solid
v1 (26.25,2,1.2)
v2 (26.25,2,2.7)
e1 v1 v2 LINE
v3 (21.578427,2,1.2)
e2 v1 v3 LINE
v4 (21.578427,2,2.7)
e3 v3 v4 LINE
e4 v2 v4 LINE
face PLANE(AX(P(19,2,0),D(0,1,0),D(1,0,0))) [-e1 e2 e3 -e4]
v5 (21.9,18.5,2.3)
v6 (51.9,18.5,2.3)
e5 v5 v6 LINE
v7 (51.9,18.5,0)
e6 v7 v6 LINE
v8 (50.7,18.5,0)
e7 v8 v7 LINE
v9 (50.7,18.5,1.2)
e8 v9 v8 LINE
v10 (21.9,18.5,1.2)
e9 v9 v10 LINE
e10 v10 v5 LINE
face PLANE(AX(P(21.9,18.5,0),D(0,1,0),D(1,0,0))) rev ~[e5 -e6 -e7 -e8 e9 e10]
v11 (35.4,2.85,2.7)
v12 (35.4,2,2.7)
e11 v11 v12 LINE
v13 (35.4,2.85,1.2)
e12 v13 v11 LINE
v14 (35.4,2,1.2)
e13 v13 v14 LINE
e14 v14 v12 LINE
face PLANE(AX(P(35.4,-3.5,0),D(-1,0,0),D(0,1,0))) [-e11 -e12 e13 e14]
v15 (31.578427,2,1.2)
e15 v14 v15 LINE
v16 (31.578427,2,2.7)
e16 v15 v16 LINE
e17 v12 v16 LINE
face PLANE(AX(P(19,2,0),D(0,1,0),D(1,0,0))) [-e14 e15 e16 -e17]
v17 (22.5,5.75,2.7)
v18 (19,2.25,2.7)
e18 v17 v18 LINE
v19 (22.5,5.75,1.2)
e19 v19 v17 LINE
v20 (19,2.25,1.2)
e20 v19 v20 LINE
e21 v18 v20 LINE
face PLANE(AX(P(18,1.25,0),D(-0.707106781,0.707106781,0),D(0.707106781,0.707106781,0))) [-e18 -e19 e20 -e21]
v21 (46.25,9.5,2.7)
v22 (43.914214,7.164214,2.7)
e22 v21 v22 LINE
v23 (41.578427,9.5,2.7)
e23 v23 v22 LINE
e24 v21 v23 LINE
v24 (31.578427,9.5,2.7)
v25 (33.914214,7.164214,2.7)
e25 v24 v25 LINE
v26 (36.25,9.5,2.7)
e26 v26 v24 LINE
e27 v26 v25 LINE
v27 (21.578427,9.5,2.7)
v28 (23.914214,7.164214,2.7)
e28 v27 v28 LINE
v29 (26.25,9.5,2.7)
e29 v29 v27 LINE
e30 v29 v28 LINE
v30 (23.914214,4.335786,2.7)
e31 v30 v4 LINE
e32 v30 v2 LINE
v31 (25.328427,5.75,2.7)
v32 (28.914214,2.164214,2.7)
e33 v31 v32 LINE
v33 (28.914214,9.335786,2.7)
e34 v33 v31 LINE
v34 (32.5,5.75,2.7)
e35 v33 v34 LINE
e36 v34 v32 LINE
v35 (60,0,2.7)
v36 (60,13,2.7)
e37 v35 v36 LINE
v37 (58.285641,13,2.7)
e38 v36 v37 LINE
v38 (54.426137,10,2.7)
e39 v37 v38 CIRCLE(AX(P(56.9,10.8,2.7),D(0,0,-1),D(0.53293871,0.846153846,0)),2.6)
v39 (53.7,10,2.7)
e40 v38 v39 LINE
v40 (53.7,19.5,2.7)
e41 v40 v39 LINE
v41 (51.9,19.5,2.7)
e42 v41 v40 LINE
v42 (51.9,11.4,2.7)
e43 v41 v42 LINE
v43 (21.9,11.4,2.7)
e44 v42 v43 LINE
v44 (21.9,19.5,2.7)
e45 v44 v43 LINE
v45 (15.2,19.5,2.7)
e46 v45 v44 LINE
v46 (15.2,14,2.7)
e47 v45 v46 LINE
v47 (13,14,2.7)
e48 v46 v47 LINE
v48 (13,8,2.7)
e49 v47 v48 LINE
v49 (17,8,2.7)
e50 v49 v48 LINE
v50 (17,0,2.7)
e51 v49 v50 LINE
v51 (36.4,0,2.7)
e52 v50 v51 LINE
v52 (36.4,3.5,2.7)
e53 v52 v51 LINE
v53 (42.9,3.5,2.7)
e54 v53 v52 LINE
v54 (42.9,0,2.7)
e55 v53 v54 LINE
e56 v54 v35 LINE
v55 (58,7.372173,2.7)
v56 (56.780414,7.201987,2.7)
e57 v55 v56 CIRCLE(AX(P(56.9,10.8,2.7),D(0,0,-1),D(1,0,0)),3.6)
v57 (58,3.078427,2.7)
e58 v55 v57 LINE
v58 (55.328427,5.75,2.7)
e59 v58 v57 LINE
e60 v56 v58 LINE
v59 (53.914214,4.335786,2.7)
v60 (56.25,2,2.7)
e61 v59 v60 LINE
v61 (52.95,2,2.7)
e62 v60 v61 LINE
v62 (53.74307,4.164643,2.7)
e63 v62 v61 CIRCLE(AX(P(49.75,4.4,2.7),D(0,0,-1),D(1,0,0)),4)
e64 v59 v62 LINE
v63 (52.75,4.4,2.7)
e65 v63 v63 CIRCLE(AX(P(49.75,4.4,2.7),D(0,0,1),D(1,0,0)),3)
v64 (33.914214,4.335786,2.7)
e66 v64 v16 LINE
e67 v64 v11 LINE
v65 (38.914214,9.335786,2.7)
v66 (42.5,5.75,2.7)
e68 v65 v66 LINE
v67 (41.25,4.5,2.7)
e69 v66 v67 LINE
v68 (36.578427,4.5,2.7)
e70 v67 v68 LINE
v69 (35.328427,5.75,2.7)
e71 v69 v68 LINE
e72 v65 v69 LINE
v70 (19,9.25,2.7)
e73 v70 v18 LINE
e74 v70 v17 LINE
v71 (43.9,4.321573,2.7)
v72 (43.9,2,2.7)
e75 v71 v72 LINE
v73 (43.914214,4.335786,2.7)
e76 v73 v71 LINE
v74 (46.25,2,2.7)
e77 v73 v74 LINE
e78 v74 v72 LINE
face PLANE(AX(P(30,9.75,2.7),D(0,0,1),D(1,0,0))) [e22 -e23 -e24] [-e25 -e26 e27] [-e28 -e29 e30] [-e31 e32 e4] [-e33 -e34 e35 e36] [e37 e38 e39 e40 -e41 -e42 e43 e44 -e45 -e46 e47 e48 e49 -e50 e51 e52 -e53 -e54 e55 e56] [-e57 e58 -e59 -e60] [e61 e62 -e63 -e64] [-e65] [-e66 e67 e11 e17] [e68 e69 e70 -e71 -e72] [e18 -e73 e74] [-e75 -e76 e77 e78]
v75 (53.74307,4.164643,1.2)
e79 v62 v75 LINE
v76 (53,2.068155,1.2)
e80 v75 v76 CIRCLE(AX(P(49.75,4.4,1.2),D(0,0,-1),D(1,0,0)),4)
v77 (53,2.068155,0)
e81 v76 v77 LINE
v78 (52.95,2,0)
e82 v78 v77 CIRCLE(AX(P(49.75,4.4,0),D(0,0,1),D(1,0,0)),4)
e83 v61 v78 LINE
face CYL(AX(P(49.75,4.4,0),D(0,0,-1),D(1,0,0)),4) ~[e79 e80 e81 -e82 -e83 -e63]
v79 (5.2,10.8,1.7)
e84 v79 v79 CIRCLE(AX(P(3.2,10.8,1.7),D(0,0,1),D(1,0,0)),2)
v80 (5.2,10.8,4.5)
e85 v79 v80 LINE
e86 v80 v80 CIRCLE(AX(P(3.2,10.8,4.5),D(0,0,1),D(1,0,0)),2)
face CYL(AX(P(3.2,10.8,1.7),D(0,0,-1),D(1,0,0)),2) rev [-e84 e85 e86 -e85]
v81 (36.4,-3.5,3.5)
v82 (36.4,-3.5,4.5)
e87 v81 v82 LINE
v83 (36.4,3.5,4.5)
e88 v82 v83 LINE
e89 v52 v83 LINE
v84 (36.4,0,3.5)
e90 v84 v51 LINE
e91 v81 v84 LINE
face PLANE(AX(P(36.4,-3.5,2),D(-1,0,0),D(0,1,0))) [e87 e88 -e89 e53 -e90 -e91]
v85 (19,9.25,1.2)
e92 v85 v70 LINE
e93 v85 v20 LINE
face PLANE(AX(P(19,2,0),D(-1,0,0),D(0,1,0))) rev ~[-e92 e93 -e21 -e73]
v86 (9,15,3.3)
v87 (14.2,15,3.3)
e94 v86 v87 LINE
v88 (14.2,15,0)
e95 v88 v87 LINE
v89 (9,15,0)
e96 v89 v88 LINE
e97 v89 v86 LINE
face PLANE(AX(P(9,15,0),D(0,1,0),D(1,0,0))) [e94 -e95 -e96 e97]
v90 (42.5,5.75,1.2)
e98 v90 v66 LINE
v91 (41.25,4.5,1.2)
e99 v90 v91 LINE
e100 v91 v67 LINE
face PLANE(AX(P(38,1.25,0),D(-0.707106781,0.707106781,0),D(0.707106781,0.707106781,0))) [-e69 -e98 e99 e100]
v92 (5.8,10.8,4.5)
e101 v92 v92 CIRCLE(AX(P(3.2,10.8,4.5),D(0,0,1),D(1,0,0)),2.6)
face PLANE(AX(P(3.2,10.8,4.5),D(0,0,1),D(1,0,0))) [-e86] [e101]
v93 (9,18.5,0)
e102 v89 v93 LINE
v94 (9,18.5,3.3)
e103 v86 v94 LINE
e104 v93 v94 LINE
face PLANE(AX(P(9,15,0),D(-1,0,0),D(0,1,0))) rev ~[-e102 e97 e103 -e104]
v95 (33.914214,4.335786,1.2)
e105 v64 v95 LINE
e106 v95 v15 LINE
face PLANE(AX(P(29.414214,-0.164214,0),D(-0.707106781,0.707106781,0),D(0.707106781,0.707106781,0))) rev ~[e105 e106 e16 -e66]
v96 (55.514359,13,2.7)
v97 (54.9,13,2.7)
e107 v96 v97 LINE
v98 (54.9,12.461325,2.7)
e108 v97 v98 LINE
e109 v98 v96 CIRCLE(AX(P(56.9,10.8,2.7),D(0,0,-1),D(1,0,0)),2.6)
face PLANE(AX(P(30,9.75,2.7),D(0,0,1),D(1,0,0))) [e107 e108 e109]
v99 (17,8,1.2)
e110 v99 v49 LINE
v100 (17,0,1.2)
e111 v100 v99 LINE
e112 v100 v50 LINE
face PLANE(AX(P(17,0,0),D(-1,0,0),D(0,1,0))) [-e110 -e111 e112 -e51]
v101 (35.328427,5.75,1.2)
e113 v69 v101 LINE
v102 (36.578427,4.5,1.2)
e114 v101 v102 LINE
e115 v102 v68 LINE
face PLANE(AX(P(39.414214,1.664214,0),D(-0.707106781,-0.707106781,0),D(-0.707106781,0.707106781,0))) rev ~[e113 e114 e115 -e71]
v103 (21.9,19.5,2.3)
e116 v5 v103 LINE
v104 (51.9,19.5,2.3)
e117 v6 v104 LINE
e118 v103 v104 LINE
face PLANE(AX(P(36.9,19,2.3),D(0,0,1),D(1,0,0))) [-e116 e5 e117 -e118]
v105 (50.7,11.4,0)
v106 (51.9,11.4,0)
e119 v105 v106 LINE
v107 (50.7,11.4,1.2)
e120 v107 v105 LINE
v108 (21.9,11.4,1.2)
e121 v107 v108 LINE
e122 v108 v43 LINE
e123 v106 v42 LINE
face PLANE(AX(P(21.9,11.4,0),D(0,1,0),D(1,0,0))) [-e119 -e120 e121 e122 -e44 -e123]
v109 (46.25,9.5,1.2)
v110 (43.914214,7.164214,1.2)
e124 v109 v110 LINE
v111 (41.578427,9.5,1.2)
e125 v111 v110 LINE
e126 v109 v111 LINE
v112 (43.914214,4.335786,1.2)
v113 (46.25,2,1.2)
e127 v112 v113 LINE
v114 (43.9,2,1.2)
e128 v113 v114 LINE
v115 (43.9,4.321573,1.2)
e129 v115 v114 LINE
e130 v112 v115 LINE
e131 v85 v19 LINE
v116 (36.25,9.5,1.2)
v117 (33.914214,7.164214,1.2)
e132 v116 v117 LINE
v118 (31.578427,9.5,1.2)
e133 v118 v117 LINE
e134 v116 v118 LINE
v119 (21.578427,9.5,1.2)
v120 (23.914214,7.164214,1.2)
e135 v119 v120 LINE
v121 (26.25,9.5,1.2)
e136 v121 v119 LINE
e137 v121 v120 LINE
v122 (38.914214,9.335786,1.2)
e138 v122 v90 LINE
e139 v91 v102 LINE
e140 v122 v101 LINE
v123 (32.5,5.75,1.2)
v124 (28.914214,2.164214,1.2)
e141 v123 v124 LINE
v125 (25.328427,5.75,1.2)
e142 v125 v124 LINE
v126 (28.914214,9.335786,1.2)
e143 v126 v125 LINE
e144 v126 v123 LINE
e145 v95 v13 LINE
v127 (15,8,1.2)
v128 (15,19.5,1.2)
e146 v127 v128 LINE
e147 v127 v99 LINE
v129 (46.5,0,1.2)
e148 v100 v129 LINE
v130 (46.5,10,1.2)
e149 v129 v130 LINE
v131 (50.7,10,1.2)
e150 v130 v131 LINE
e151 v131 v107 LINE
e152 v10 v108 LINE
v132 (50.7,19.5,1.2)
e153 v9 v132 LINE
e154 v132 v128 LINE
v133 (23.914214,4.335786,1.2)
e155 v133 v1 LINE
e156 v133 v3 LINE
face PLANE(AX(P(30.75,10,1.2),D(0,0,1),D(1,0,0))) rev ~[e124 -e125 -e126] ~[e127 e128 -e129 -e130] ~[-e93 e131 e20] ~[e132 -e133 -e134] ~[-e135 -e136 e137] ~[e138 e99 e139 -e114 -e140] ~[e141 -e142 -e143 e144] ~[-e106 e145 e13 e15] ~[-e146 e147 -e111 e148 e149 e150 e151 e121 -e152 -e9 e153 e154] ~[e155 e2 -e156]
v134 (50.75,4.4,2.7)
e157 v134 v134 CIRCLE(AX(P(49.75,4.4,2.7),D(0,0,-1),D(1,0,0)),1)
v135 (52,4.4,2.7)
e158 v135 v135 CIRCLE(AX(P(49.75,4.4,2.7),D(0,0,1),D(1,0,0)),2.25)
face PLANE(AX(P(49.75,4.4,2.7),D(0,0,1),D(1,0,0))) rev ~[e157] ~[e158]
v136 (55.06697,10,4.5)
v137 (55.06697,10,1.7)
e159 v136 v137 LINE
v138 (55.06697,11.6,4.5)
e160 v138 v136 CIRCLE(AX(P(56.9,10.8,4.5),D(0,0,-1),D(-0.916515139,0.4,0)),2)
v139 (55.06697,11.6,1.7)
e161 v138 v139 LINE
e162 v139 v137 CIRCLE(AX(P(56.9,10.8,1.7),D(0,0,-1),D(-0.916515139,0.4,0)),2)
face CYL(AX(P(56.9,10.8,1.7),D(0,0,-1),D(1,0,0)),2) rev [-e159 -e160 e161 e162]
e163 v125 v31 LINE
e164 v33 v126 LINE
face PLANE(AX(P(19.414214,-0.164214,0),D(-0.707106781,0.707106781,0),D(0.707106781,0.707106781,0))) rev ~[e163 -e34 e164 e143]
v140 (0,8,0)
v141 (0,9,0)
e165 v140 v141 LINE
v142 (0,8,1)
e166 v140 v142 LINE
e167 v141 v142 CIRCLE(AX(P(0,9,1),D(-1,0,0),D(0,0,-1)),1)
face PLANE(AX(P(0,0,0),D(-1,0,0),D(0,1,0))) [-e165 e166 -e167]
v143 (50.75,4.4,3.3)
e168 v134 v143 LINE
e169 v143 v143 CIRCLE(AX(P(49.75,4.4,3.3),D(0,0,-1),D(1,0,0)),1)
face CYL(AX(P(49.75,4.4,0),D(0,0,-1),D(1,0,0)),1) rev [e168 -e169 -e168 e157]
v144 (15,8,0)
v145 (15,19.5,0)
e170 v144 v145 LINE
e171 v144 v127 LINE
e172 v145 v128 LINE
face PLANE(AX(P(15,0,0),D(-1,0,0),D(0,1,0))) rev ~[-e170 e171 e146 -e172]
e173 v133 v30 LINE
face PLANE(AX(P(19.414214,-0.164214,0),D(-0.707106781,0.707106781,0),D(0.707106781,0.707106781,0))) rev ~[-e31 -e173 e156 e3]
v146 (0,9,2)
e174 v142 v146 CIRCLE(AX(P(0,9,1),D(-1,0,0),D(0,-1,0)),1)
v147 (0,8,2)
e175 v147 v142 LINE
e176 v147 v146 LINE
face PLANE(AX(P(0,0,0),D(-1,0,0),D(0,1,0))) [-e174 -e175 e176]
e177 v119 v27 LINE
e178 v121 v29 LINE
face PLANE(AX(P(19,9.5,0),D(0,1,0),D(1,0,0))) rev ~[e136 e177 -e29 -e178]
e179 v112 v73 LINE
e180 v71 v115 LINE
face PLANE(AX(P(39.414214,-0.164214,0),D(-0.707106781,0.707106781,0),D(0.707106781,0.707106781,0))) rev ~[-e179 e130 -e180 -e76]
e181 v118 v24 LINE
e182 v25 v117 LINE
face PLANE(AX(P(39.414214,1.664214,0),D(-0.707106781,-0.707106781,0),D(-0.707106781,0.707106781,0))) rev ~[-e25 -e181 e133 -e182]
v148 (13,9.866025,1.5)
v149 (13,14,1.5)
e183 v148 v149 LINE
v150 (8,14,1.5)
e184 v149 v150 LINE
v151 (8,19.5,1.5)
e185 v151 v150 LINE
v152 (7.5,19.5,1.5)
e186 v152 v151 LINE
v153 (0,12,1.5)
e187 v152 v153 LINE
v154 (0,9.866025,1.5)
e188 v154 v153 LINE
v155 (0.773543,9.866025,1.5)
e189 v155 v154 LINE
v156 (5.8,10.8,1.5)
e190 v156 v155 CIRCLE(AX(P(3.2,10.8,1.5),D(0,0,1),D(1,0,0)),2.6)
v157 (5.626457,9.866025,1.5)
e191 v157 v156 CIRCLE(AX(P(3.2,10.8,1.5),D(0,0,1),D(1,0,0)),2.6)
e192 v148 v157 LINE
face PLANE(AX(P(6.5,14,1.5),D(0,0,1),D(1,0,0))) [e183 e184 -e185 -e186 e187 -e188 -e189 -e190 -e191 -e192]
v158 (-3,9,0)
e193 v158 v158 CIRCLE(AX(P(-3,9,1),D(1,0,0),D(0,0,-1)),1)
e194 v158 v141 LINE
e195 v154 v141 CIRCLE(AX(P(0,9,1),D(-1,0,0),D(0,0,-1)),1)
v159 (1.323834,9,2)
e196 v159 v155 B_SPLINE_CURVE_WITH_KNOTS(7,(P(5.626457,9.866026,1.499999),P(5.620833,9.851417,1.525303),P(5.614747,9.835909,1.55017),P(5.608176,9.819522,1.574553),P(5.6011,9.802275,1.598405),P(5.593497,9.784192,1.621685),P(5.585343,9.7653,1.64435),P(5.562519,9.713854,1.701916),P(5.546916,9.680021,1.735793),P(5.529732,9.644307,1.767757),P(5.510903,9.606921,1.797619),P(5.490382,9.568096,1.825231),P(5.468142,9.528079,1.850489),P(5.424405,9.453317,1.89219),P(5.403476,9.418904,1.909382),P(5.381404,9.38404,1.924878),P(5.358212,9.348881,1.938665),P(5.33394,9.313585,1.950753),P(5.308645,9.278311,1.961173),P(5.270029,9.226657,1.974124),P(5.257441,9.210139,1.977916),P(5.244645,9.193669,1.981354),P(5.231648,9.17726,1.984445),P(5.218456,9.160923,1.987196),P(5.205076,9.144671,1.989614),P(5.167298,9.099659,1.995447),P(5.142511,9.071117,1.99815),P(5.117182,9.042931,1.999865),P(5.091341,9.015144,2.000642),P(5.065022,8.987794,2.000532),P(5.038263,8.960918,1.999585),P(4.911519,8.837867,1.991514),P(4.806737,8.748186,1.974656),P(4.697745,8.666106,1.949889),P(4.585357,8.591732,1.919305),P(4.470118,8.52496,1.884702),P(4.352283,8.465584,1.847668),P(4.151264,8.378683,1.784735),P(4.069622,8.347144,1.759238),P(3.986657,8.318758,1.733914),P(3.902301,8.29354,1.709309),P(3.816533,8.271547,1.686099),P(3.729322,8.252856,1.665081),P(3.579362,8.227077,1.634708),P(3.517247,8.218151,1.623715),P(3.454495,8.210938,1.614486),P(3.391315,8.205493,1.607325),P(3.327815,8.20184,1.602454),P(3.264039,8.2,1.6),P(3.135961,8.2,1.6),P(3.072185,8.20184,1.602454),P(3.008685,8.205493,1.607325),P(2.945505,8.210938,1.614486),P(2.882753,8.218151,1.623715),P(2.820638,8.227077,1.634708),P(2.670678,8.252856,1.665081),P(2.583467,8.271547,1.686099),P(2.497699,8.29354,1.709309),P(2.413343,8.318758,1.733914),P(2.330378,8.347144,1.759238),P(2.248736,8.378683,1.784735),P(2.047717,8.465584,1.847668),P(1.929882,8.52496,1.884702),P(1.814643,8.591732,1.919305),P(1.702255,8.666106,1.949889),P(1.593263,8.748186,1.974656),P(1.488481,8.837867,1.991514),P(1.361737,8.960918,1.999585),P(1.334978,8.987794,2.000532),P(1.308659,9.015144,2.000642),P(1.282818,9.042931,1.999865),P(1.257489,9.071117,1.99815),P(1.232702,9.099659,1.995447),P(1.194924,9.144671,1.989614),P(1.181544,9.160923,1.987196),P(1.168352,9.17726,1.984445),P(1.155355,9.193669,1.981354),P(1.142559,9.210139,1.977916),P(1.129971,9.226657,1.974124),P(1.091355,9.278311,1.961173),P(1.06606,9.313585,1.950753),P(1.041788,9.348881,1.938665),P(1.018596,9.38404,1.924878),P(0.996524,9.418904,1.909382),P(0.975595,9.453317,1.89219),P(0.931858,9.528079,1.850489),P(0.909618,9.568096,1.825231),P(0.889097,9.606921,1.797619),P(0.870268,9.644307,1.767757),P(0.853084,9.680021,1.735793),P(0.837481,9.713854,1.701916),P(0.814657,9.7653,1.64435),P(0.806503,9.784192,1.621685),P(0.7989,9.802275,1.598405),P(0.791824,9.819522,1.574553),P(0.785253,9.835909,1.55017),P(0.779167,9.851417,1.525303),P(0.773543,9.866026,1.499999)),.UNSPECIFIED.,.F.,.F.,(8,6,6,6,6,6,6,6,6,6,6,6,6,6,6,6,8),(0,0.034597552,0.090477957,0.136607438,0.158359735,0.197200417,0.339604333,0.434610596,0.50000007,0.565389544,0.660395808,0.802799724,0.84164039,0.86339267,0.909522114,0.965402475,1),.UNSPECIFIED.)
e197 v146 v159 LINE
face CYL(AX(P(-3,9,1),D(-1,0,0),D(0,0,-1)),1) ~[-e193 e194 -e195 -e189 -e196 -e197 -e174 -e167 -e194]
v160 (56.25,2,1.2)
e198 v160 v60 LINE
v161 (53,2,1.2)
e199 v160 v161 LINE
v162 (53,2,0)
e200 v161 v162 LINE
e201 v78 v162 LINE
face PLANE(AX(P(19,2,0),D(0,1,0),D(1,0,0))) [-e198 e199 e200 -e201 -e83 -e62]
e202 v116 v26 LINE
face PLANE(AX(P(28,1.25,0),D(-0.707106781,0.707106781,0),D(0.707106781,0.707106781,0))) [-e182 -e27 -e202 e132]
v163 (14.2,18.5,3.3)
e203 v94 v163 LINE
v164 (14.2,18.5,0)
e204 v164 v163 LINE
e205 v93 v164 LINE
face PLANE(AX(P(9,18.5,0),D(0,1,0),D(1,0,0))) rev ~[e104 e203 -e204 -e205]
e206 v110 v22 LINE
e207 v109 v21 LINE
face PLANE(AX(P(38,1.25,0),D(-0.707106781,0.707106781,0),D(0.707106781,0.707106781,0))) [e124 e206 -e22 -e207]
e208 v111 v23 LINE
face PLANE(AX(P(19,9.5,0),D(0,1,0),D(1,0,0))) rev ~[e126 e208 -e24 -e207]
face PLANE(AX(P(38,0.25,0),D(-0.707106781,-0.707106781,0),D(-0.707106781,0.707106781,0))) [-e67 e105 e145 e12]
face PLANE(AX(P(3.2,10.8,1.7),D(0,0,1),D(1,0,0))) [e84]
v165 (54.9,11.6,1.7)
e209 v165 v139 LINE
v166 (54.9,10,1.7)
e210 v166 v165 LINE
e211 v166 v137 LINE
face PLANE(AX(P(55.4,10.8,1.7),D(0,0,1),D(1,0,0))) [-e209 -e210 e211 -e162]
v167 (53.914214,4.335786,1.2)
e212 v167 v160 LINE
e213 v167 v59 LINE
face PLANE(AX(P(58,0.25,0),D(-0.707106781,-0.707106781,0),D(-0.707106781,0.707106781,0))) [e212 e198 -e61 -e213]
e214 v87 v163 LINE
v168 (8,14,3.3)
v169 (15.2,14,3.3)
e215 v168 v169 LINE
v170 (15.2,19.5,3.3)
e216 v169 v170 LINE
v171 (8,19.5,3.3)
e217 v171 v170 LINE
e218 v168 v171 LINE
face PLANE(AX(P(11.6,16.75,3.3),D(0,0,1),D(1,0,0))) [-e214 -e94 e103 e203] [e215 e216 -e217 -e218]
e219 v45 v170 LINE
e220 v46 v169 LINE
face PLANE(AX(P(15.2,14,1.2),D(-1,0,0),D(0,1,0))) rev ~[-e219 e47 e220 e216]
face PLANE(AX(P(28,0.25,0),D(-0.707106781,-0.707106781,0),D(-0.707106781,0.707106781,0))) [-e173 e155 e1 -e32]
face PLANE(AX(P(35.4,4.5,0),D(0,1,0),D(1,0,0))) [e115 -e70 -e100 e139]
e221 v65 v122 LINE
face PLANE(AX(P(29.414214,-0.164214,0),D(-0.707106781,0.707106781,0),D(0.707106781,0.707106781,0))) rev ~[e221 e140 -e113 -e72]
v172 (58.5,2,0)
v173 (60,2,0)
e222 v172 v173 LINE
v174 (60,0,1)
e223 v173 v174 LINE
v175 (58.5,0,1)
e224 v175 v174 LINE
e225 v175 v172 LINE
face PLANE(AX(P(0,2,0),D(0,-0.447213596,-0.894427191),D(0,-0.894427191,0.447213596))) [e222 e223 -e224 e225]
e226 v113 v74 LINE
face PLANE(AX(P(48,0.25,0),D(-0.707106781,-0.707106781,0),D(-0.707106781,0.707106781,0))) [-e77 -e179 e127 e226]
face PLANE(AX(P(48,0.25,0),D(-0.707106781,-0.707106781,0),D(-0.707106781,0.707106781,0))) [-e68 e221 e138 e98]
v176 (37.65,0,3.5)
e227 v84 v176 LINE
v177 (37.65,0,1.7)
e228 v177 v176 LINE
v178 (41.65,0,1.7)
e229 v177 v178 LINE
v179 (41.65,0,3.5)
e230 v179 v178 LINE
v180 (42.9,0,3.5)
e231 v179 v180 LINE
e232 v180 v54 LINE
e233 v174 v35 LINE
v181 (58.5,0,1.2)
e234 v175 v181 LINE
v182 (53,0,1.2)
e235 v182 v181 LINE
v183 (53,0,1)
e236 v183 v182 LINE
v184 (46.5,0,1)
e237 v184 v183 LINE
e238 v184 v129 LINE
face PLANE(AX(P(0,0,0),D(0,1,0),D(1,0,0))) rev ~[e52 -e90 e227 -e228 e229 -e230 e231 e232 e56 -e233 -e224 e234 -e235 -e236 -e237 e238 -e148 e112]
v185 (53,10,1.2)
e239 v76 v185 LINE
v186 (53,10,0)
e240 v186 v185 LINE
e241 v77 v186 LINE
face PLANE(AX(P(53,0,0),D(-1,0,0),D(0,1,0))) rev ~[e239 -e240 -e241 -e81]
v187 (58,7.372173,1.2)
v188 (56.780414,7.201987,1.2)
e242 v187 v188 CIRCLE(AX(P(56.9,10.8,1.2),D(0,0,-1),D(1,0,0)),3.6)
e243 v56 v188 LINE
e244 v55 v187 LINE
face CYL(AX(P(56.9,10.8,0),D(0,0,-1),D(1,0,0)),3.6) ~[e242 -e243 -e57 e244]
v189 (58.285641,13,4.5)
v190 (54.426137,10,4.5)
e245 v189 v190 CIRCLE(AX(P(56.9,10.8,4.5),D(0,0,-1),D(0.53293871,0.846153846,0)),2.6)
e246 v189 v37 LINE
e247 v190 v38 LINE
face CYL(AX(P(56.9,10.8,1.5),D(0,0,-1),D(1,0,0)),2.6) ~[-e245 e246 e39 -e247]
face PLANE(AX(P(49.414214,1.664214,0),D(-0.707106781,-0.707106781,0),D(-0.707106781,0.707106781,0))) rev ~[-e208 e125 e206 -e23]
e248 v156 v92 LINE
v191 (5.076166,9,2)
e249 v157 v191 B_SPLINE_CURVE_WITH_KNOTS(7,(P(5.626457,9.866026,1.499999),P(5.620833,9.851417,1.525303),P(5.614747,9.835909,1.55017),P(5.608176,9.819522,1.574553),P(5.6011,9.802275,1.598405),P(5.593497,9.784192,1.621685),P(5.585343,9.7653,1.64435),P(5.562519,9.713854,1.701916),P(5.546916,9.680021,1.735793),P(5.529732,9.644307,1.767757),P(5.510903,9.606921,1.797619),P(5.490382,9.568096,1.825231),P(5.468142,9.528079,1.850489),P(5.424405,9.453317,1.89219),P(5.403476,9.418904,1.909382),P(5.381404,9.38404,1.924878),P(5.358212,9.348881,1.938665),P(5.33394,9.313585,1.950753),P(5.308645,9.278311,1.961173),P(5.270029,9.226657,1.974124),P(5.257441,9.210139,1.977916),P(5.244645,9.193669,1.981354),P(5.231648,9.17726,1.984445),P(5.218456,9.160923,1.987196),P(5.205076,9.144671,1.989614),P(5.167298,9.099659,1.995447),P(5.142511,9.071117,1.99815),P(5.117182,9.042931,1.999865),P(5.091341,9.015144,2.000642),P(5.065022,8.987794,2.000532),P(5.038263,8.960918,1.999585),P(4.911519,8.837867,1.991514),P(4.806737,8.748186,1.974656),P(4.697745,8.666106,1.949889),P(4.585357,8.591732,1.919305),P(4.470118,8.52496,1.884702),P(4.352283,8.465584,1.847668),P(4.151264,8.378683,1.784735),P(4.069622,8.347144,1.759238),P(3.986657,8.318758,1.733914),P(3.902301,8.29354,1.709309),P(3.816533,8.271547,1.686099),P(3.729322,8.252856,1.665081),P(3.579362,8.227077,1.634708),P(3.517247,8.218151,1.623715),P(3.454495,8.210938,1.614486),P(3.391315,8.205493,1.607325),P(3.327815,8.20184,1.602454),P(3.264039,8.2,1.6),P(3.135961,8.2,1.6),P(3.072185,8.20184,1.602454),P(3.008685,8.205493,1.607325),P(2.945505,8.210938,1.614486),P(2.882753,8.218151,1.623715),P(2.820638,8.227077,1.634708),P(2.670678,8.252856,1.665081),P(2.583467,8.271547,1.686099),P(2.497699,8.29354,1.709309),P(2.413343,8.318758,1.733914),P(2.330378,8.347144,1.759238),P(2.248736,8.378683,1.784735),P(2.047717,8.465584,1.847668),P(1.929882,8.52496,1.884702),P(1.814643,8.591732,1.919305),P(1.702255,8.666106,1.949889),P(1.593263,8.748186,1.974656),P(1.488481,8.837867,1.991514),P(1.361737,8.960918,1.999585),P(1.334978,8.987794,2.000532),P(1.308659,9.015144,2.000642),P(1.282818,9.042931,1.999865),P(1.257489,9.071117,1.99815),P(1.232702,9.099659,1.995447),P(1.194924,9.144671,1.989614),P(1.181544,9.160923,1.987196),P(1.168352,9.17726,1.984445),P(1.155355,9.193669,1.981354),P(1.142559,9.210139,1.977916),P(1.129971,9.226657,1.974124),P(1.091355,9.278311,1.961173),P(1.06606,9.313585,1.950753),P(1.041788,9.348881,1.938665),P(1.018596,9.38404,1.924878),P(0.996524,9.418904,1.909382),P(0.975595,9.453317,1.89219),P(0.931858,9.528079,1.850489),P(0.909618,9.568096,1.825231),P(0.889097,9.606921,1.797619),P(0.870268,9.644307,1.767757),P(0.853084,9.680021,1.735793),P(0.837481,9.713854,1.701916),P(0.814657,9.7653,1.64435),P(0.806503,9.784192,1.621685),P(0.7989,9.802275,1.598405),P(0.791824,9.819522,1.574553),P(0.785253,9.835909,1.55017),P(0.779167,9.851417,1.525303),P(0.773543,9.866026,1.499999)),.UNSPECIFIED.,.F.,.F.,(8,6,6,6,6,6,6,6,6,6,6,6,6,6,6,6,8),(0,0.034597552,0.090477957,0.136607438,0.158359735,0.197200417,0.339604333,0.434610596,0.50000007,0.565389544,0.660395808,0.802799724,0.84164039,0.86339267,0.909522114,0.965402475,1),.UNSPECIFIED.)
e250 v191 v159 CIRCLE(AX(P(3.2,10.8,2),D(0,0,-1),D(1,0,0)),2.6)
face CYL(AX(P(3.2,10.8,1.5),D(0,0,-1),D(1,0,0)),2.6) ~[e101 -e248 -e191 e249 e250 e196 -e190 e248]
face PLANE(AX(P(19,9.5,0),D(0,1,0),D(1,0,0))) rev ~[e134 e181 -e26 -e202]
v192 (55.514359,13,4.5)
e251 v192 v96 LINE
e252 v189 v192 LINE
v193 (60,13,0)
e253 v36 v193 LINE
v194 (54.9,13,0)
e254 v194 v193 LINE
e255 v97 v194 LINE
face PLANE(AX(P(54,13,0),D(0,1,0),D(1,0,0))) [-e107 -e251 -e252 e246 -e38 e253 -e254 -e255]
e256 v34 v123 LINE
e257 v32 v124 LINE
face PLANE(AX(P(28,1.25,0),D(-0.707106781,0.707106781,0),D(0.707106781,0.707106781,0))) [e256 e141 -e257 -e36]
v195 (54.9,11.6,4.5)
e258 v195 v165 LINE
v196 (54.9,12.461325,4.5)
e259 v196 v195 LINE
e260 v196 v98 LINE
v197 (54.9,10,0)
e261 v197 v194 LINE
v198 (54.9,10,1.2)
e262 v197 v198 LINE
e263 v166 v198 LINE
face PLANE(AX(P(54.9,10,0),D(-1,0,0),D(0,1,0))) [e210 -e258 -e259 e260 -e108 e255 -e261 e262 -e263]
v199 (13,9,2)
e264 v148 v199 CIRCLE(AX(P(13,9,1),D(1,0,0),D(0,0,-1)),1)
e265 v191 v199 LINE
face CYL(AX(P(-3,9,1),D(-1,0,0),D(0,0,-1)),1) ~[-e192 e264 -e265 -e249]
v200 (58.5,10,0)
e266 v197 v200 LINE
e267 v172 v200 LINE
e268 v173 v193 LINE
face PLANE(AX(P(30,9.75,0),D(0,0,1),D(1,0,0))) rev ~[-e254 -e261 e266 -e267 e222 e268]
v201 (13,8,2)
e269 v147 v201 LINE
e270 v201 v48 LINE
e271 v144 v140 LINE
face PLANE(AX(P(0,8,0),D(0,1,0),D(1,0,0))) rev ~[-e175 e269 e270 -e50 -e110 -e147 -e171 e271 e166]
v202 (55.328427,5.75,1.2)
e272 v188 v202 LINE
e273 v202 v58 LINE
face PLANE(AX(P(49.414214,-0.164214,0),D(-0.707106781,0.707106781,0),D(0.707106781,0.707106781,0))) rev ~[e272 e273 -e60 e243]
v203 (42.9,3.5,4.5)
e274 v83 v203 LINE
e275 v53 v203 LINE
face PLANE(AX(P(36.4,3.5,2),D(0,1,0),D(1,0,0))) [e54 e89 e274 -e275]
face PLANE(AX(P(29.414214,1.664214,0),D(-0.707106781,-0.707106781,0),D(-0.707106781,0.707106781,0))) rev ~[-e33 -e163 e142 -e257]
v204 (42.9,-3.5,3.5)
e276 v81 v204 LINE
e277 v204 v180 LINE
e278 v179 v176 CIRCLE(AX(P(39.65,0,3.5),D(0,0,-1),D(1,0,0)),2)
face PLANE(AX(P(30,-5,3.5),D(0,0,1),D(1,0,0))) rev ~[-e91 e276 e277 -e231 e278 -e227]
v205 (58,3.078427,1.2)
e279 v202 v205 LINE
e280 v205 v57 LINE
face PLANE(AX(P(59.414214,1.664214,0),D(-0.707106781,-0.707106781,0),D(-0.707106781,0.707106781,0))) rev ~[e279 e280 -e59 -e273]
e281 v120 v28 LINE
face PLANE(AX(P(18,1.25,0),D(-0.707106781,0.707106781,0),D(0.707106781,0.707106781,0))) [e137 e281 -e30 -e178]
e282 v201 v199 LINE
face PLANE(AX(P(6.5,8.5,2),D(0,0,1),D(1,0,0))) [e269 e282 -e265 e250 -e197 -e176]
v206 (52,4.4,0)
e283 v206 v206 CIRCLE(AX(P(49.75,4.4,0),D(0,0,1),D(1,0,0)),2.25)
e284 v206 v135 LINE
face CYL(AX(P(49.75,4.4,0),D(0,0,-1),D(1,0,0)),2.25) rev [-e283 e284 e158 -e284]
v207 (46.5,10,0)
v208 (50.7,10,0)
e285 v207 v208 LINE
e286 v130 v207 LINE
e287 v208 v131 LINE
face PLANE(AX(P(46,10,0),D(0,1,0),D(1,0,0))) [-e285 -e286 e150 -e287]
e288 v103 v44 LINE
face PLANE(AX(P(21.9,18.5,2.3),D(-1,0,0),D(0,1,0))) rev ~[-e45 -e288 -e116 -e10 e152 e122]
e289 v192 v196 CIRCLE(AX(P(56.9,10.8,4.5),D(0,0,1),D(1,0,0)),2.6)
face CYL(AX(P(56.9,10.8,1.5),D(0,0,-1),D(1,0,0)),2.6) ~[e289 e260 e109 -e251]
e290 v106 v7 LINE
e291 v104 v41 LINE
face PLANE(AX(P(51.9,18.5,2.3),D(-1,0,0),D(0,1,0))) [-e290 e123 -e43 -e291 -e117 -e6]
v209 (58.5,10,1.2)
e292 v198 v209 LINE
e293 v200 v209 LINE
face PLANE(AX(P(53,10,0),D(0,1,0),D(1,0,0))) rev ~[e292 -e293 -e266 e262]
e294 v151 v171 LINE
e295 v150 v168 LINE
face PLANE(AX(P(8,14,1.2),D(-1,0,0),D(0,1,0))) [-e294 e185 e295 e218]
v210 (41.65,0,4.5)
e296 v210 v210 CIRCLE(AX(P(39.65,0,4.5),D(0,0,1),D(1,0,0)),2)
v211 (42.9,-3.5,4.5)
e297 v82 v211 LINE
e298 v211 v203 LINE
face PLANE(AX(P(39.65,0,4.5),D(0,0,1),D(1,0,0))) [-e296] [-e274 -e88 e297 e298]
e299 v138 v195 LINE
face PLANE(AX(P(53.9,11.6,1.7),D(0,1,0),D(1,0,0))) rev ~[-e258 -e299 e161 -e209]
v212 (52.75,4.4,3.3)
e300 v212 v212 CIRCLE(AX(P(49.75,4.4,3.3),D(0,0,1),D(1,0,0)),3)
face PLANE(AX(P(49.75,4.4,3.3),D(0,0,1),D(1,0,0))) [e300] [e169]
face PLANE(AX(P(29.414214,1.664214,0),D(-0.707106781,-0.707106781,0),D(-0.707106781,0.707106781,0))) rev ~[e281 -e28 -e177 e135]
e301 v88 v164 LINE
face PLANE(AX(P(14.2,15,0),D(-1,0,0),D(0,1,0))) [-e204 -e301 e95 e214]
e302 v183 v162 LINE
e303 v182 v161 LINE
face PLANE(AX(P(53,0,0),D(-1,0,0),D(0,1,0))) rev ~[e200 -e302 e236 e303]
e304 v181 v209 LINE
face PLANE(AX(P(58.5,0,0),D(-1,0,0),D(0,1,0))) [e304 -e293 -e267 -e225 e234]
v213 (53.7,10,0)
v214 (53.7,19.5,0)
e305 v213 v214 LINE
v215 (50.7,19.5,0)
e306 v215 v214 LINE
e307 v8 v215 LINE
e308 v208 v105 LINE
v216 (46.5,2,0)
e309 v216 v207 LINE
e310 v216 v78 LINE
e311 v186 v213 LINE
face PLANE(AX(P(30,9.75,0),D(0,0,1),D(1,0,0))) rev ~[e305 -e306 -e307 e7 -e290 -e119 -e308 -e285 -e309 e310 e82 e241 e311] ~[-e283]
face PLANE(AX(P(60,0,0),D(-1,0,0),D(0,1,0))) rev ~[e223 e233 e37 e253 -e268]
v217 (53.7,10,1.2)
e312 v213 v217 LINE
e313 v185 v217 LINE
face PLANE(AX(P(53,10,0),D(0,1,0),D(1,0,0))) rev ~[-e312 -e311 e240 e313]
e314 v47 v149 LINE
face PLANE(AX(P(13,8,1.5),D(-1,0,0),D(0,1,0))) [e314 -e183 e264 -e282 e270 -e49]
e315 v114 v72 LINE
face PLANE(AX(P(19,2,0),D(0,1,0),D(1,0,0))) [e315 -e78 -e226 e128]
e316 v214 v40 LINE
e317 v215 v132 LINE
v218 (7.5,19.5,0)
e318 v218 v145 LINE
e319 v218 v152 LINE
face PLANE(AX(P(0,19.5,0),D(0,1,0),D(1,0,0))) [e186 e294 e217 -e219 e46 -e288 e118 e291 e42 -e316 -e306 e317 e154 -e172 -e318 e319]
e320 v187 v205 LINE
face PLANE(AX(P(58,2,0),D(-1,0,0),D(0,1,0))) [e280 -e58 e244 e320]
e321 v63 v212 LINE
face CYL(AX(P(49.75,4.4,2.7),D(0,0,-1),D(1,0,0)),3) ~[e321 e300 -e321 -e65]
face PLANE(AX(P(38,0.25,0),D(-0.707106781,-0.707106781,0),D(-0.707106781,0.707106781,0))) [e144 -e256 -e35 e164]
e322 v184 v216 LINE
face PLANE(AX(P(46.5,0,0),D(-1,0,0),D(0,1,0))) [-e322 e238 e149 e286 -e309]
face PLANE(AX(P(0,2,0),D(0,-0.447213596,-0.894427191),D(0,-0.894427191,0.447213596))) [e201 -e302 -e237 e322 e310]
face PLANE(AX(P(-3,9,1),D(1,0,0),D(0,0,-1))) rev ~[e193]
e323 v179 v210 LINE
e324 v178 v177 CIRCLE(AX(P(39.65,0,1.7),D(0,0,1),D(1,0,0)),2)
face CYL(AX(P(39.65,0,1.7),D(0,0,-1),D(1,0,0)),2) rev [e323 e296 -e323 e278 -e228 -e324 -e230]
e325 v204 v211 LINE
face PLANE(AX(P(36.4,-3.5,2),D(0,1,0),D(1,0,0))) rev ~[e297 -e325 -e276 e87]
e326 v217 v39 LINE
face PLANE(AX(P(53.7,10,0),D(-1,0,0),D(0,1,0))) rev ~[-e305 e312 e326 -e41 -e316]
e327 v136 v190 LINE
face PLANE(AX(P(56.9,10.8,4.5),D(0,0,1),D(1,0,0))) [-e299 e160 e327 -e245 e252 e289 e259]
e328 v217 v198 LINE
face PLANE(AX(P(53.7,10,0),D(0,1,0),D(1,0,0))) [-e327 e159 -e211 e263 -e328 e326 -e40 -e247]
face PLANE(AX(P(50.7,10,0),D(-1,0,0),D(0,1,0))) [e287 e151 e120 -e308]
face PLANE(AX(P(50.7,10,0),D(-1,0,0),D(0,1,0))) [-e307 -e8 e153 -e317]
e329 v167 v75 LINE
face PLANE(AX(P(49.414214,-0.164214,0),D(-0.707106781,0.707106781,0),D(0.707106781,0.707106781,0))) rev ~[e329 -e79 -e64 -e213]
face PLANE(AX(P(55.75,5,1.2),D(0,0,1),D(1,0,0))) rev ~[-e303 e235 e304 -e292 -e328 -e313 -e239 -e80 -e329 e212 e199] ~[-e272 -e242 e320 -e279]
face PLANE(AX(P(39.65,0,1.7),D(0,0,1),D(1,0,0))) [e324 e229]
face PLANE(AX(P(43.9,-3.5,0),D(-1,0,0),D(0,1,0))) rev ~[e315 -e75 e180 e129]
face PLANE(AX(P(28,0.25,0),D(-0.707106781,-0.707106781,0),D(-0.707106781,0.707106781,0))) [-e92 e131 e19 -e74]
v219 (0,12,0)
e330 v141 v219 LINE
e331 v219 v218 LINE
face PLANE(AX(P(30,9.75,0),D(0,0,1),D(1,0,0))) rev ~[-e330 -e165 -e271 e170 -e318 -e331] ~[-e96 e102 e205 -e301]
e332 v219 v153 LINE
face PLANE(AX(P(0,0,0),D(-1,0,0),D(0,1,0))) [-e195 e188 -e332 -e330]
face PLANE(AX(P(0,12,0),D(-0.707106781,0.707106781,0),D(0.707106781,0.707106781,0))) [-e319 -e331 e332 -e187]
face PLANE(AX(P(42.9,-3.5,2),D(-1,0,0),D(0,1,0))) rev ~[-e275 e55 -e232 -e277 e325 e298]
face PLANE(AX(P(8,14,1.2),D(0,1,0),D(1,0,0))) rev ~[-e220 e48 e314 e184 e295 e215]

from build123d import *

# Parameters (mm, degrees)
BOX021_W                = 2
BOX021_H                = 15
BOX021_DEPTH            = 10
BOX021_PLACEMENT_ANGLE  = -45
BOX019_W                = 2
BOX019_H                = 15
BOX019_DEPTH            = 10
BOX019_PLACEMENT_ANGLE  = -45
BOX017_W                = 2
BOX017_H                = 15
BOX017_DEPTH            = 10
BOX017_PLACEMENT_ANGLE  = 45
BOX018_W                = 2
BOX018_H                = 15
BOX018_DEPTH            = 10
BOX018_PLACEMENT_ANGLE  = 45
BOX020_W                = 2
BOX020_H                = 15
BOX020_DEPTH            = 10
BOX020_PLACEMENT_ANGLE  = -45
BOX024_W                = 2
BOX024_H                = 15
BOX024_DEPTH            = 10
BOX024_PLACEMENT_ANGLE  = -45
BOX025_W                = 2
BOX025_H                = 15
BOX025_DEPTH            = 10
BOX025_PLACEMENT_ANGLE  = 45
BOX026_W                = 12
BOX026_H                = 7
BOX026_DEPTH            = 10
BOX026_PLACEMENT_ANGLE  = 45
BOX016_W                = 2
BOX016_H                = 15
BOX016_DEPTH            = 10
BOX016_PLACEMENT_ANGLE  = 45
CYLINDER009_R           = 3.6
CYLINDER009_DEPTH       = 10
CYLINDER010_R           = 4
CYLINDER010_DEPTH       = 10
BOX022_W                = 8.5
BOX022_H                = 8
BOX022_DEPTH            = 10
BOX023_W                = 39
BOX023_H                = 7.5
BOX023_DEPTH            = 10
BOX027_W                = 15
BOX027_H                = 10
BOX027_DEPTH            = 10
BOX027_PLACEMENT_ANGLE  = 45
CYLINDER004_R           = 2
CYLINDER004_DEPTH       = 2.8
BOX007_W                = 1.2
BOX007_H                = 10
BOX007_DEPTH            = 5
CYLINDER001_R           = 1
CYLINDER001_DEPTH       = 10
CYLINDER_R              = 2.25
CYLINDER_DEPTH          = 2.7
BOX009_W                = 5.2
BOX009_H                = 3.5
BOX009_DEPTH            = 3.3
BOX010_W                = 30
BOX010_H                = 7.1
BOX010_DEPTH            = 3
BOX011_W                = 30
BOX011_H                = 1
BOX011_DEPTH            = 2
BOX013_W                = 60
BOX013_H                = 10
BOX013_DEPTH            = 3.5
CYLINDER007_R           = 2
CYLINDER007_DEPTH       = 2.8
BOX014_W                = 7.2
BOX014_H                = 6.5
BOX014_DEPTH            = 5
BOX028_W                = 3
BOX028_H                = 1.6
BOX028_DEPTH            = 3
CYLINDER005_R           = 2
CYLINDER005_DEPTH       = 2.8
CYLINDER002_R           = 2.6
CYLINDER002_DEPTH       = 3
CYLINDER003_R           = 2.6
CYLINDER003_DEPTH       = 3
BOX008_W                = 7.2
BOX008_H                = 5.5
BOX008_DEPTH            = 2.1
CYLINDER006_R           = 3
CYLINDER006_DEPTH       = 0.6
BOX012_W                = 6.5
BOX012_H                = 7
BOX012_DEPTH            = 2.5
CYLINDER008_R           = 1
CYLINDER008_DEPTH       = 16
CYLINDER008_PITCH_ANGLE = 90
BOX015_W                = 13
BOX015_H                = 1
BOX015_DEPTH            = 2
BOX004_W                = 17
BOX004_H                = 8
BOX004_DEPTH            = 4
BOX001_W                = 31.5
BOX001_H                = 20
BOX001_DEPTH            = 1.2
BOX003_W                = 4.7
BOX003_H                = 10
BOX003_DEPTH            = 1.2
BOX002_W                = 5.5
BOX002_H                = 10
BOX002_DEPTH            = 1.2
BOX005_W                = 1.2
BOX005_H                = 10
BOX005_DEPTH            = 4
BOX006_W                = 13
BOX006_H                = 12
BOX006_DEPTH            = 3
PAD_DEPTH               = 100
BOX_W                   = 60
BOX_H                   = 19.5
BOX_DEPTH               = 2.7


with BuildPart() as cube021:
    # Box021 → Box021 (new body)
    with BuildSketch(Plane.XY):
        with Locations((1, 7.5)):
            Rectangle(BOX021_W, BOX021_H)
    extrude(amount=BOX021_DEPTH)


with BuildPart() as cube021_1:
    # Box021 placement: moved
    add(cube021.part.moved(Location((18, 1, 0))).rotate(Axis((18, 1, 0), (0, 0, 1)), BOX021_PLACEMENT_ANGLE))


with BuildPart() as cube019:
    # Box019 → Box019 (new body)
    with BuildSketch(Plane.XY):
        with Locations((1, 7.5)):
            Rectangle(BOX019_W, BOX019_H)
    extrude(amount=BOX019_DEPTH)


with BuildPart() as cube019_1:
    # Box019 placement: moved
    add(cube019.part.moved(Location((38, 1, 0))).rotate(Axis((38, 1, 0), (0, 0, 1)), BOX019_PLACEMENT_ANGLE))


with BuildPart() as cube017:
    # Box017 → Box017 (new body)
    with BuildSketch(Plane.XY):
        with Locations((1, 7.5)):
            Rectangle(BOX017_W, BOX017_H)
    extrude(amount=BOX017_DEPTH)


with BuildPart() as cube017_1:
    # Box017 placement: moved
    add(cube017.part.moved(Location((28, 0, 0))).rotate(Axis((28, 0, 0), (0, 0, 1)), BOX017_PLACEMENT_ANGLE))


with BuildPart() as cube018:
    # Box018 → Box018 (new body)
    with BuildSketch(Plane.XY):
        with Locations((1, 7.5)):
            Rectangle(BOX018_W, BOX018_H)
    extrude(amount=BOX018_DEPTH)


with BuildPart() as cube018_1:
    # Box018 placement: moved
    add(cube018.part.moved(Location((48, 0, 0))).rotate(Axis((48, 0, 0), (0, 0, 1)), BOX018_PLACEMENT_ANGLE))


with BuildPart() as cube020:
    # Box020 → Box020 (new body)
    with BuildSketch(Plane.XY):
        with Locations((1, 7.5)):
            Rectangle(BOX020_W, BOX020_H)
    extrude(amount=BOX020_DEPTH)


with BuildPart() as cube020_1:
    # Box020 placement: moved
    add(cube020.part.moved(Location((28, 1, 0))).rotate(Axis((28, 1, 0), (0, 0, 1)), BOX020_PLACEMENT_ANGLE))


with BuildPart() as cube024:
    # Box024 → Box024 (new body)
    with BuildSketch(Plane.XY):
        with Locations((1, 7.5)):
            Rectangle(BOX024_W, BOX024_H)
    extrude(amount=BOX024_DEPTH)


with BuildPart() as cube024_1:
    # Box024 placement: moved
    add(cube024.part.moved(Location((48, 1, 0))).rotate(Axis((48, 1, 0), (0, 0, 1)), BOX024_PLACEMENT_ANGLE))


with BuildPart() as cube025:
    # Box025 → Box025 (new body)
    with BuildSketch(Plane.XY):
        with Locations((1, 7.5)):
            Rectangle(BOX025_W, BOX025_H)
    extrude(amount=BOX025_DEPTH)


with BuildPart() as cube025_1:
    # Box025 placement: moved
    add(cube025.part.moved(Location((58, 0, 0))).rotate(Axis((58, 0, 0), (0, 0, 1)), BOX025_PLACEMENT_ANGLE))


with BuildPart() as cube026:
    # Box026 → Box026 (new body)
    with BuildSketch(Plane.XY):
        with Locations((6, 3.5)):
            Rectangle(BOX026_W, BOX026_H)
    extrude(amount=BOX026_DEPTH)


with BuildPart() as cube026_1:
    # Box026 placement: moved
    add(cube026.part.moved(Location((49, 1, 0))).rotate(Axis((49, 1, 0), (0, 0, 1)), BOX026_PLACEMENT_ANGLE))


with BuildPart() as fusion003:
    # Box016 → Box016 (new body)
    with BuildSketch(Plane.XY):
        with Locations((1, 7.5)):
            Rectangle(BOX016_W, BOX016_H)
    extrude(amount=BOX016_DEPTH)


with BuildPart() as fusion003_1:
    # Box016 placement: moved
    add(fusion003.part.moved(Location((38, 0, 0))).rotate(Axis((38, 0, 0), (0, 0, 1)), BOX016_PLACEMENT_ANGLE))

    # Fusion003: union Cube021, Cube019, Cube017, Cube018, Cube020, Cube024, Cube025, Cube026
    add(cube021_1.part)
    add(cube019_1.part)
    add(cube017_1.part)
    add(cube018_1.part)
    add(cube020_1.part)
    add(cube024_1.part)
    add(cube025_1.part)
    add(cube026_1.part)


with BuildPart() as fusion003_2:
    # Fusion003 placement: moved
    add(fusion003_1.part.moved(Location((0, 0.25, 0))))


with BuildPart() as cylinder009:
    # Cylinder009 → Cylinder009 (new body)
    with BuildSketch(Plane(origin=(56.9, 10.8, 0), x_dir=(1, 0, 0), z_dir=(0, 0, 1))):
        Circle(CYLINDER009_R)
    extrude(amount=CYLINDER009_DEPTH)


with BuildPart() as cylinder010:
    # Cylinder010 → Cylinder010 (new body)
    with BuildSketch(Plane(origin=(49.75, 4.4, 0), x_dir=(1, 0, 0), z_dir=(0, 0, 1))):
        Circle(CYLINDER010_R)
    extrude(amount=CYLINDER010_DEPTH)


with BuildPart() as fusion004:
    # Box022 → Box022 (new body)
    with BuildSketch(Plane(origin=(35.4, -3.5, 0), x_dir=(1, 0, 0), z_dir=(0, 0, 1))):
        with Locations((4.25, 4)):
            Rectangle(BOX022_W, BOX022_H)
    extrude(amount=BOX022_DEPTH)

    # Fusion004: union Fusion003, Cylinder009, Cylinder010
    add(fusion003_2.part)
    add(cylinder009.part)
    add(cylinder010.part)


with BuildPart() as cut002:
    # Box023 → Box023 (new body)
    with BuildSketch(Plane(origin=(19, 2, 0), x_dir=(1, 0, 0), z_dir=(0, 0, 1))):
        with Locations((19.5, 3.75)):
            Rectangle(BOX023_W, BOX023_H)
    extrude(amount=BOX023_DEPTH)

    # Cut002: cut Fusion004
    add(fusion004.part, mode=Mode.SUBTRACT)


with BuildPart() as fusion005:
    # Box027 → Box027 (new body)
    with BuildSketch(Plane.XY):
        with Locations((7.5, 5)):
            Rectangle(BOX027_W, BOX027_H)
    extrude(amount=BOX027_DEPTH)


with BuildPart() as fusion005_1:
    # Box027 placement: moved
    add(fusion005.part.moved(Location((0, 12, 0))).rotate(Axis((0, 12, 0), (0, 0, 1)), BOX027_PLACEMENT_ANGLE))

    # Fusion005: union Cut002
    add(cut002.part)


with BuildPart() as cylinder004:
    # Cylinder004 → Cylinder004 (new body)
    with BuildSketch(Plane(origin=(3.2, 10.8, 1.7), x_dir=(1, 0, 0), z_dir=(0, 0, 1))):
        Circle(CYLINDER004_R)
    extrude(amount=CYLINDER004_DEPTH)


with BuildPart() as cube007:
    # Box007 → Box007 (new body)
    with BuildSketch(Plane(origin=(53.7, 10, 0), x_dir=(1, 0, 0), z_dir=(0, 0, 1))):
        with Locations((0.6, 5)):
            Rectangle(BOX007_W, BOX007_H)
    extrude(amount=BOX007_DEPTH)


with BuildPart() as cylinder001:
    # Cylinder001 → Cylinder001 (new body)
    with BuildSketch(Plane(origin=(49.75, 4.4, 0), x_dir=(1, 0, 0), z_dir=(0, 0, 1))):
        Circle(CYLINDER001_R)
    extrude(amount=CYLINDER001_DEPTH)


with BuildPart() as cylinder:
    # Cylinder → Cylinder (new body)
    with BuildSketch(Plane(origin=(49.75, 4.4, 0), x_dir=(1, 0, 0), z_dir=(0, 0, 1))):
        Circle(CYLINDER_R)
    extrude(amount=CYLINDER_DEPTH)


with BuildPart() as cube009:
    # Box009 → Box009 (new body)
    with BuildSketch(Plane(origin=(9, 15, 0), x_dir=(1, 0, 0), z_dir=(0, 0, 1))):
        with Locations((2.6, 1.75)):
            Rectangle(BOX009_W, BOX009_H)
    extrude(amount=BOX009_DEPTH)


with BuildPart() as cube010:
    # Box010 → Box010 (new body)
    with BuildSketch(Plane(origin=(21.9, 11.4, 0), x_dir=(1, 0, 0), z_dir=(0, 0, 1))):
        with Locations((15, 3.55)):
            Rectangle(BOX010_W, BOX010_H)
    extrude(amount=BOX010_DEPTH)


with BuildPart() as cube011:
    # Box011 → Box011 (new body)
    with BuildSketch(Plane(origin=(21.9, 18.5, 2.3), x_dir=(1, 0, 0), z_dir=(0, 0, 1))):
        with Locations((15, 0.5)):
            Rectangle(BOX011_W, BOX011_H)
    extrude(amount=BOX011_DEPTH)


with BuildPart() as cube013:
    # Box013 → Box013 (new body)
    with BuildSketch(Plane(origin=(0, -10, 0), x_dir=(1, 0, 0), z_dir=(0, 0, 1))):
        with Locations((30, 5)):
            Rectangle(BOX013_W, BOX013_H)
    extrude(amount=BOX013_DEPTH)


with BuildPart() as cylinder007:
    # Cylinder007 → Cylinder007 (new body)
    with BuildSketch(Plane(origin=(39.65, 0, 1.7), x_dir=(1, 0, 0), z_dir=(0, 0, 1))):
        Circle(CYLINDER007_R)
    extrude(amount=CYLINDER007_DEPTH)


with BuildPart() as cube014:
    # Box014 → Box014 (new body)
    with BuildSketch(Plane(origin=(54, 13, 0), x_dir=(1, 0, 0), z_dir=(0, 0, 1))):
        with Locations((3.6, 3.25)):
            Rectangle(BOX014_W, BOX014_H)
    extrude(amount=BOX014_DEPTH)


with BuildPart() as cube028:
    # Box028 → Box028 (new body)
    with BuildSketch(Plane(origin=(53.9, 10, 1.7), x_dir=(1, 0, 0), z_dir=(0, 0, 1))):
        with Locations((1.5, 0.8)):
            Rectangle(BOX028_W, BOX028_H)
    extrude(amount=BOX028_DEPTH)


with BuildPart() as fusion002:
    # Cylinder005 → Cylinder005 (new body)
    with BuildSketch(Plane(origin=(56.9, 10.8, 1.7), x_dir=(1, 0, 0), z_dir=(0, 0, 1))):
        Circle(CYLINDER005_R)
    extrude(amount=CYLINDER005_DEPTH)

    # Fusion002: union Cylinder004, Cube007, Cylinder001, Cylinder, Cube009, Cube010, Cube011, Cube013, Cylinder007, Cube014, Cube028
    add(cylinder004.part)
    add(cube007.part)
    add(cylinder001.part)
    add(cylinder.part)
    add(cube009.part)
    add(cube010.part)
    add(cube011.part)
    add(cube013.part)
    add(cylinder007.part)
    add(cube014.part)
    add(cube028.part)


with BuildPart() as cylinder002:
    # Cylinder002 → Cylinder002 (new body)
    with BuildSketch(Plane(origin=(3.2, 10.8, 1.5), x_dir=(1, 0, 0), z_dir=(0, 0, 1))):
        Circle(CYLINDER002_R)
    extrude(amount=CYLINDER002_DEPTH)


with BuildPart() as cylinder003:
    # Cylinder003 → Cylinder003 (new body)
    with BuildSketch(Plane(origin=(56.9, 10.8, 1.5), x_dir=(1, 0, 0), z_dir=(0, 0, 1))):
        Circle(CYLINDER003_R)
    extrude(amount=CYLINDER003_DEPTH)


with BuildPart() as cube008:
    # Box008 → Box008 (new body)
    with BuildSketch(Plane(origin=(8, 14, 1.2), x_dir=(1, 0, 0), z_dir=(0, 0, 1))):
        with Locations((3.6, 2.75)):
            Rectangle(BOX008_W, BOX008_H)
    extrude(amount=BOX008_DEPTH)


with BuildPart() as cylinder006:
    # Cylinder006 → Cylinder006 (new body)
    with BuildSketch(Plane(origin=(49.75, 4.4, 2.7), x_dir=(1, 0, 0), z_dir=(0, 0, 1))):
        Circle(CYLINDER006_R)
    extrude(amount=CYLINDER006_DEPTH)


with BuildPart() as cube012:
    # Box012 → Box012 (new body)
    with BuildSketch(Plane(origin=(36.4, -3.5, 2), x_dir=(1, 0, 0), z_dir=(0, 0, 1))):
        with Locations((3.25, 3.5)):
            Rectangle(BOX012_W, BOX012_H)
    extrude(amount=BOX012_DEPTH)


with BuildPart() as cylinder008:
    # Cylinder008 → Cylinder008 (new body)
    with BuildSketch(Plane.XY):
        Circle(CYLINDER008_R)
    extrude(amount=CYLINDER008_DEPTH)


with BuildPart() as cylinder008_1:
    # Cylinder008 pitch: moved
    add(cylinder008.part.rotate(Axis((0, 0, 0), (0, 1, 0)), CYLINDER008_PITCH_ANGLE))


with BuildPart() as cylinder008_2:
    # Cylinder008 placement: moved
    add(cylinder008_1.part.moved(Location((-3, 9, 1))))


with BuildPart() as cube015:
    # Box015 → Box015 (new body)
    with BuildSketch(Plane(origin=(0, 8, 0), x_dir=(1, 0, 0), z_dir=(0, 0, 1))):
        with Locations((6.5, 0.5)):
            Rectangle(BOX015_W, BOX015_H)
    extrude(amount=BOX015_DEPTH)


with BuildPart() as cube004:
    # Box004 → Box004 (new body)
    with BuildSketch(Plane.XY):
        with Locations((8.5, 4)):
            Rectangle(BOX004_W, BOX004_H)
    extrude(amount=BOX004_DEPTH)


with BuildPart() as cube001:
    # Box001 → Box001 (new body)
    with BuildSketch(Plane(origin=(15, 0, 0), x_dir=(1, 0, 0), z_dir=(0, 0, 1))):
        with Locations((15.75, 10)):
            Rectangle(BOX001_W, BOX001_H)
    extrude(amount=BOX001_DEPTH)


with BuildPart() as cube003:
    # Box003 → Box003 (new body)
    with BuildSketch(Plane(origin=(46, 10, 0), x_dir=(1, 0, 0), z_dir=(0, 0, 1))):
        with Locations((2.35, 5)):
            Rectangle(BOX003_W, BOX003_H)
    extrude(amount=BOX003_DEPTH)


with BuildPart() as cube002:
    # Box002 → Box002 (new body)
    with BuildSketch(Plane(origin=(53, 0, 0), x_dir=(1, 0, 0), z_dir=(0, 0, 1))):
        with Locations((2.75, 5)):
            Rectangle(BOX002_W, BOX002_H)
    extrude(amount=BOX002_DEPTH)


with BuildPart() as cube005:
    # Box005 → Box005 (new body)
    with BuildSketch(Plane(origin=(53.7, 10, 0), x_dir=(1, 0, 0), z_dir=(0, 0, 1))):
        with Locations((0.6, 5)):
            Rectangle(BOX005_W, BOX005_H)
    extrude(amount=BOX005_DEPTH)


with BuildPart() as cube006:
    # Box006 → Box006 (new body)
    with BuildSketch(Plane(origin=(0, 8, 1.5), x_dir=(1, 0, 0), z_dir=(0, 0, 1))):
        with Locations((6.5, 6)):
            Rectangle(BOX006_W, BOX006_H)
    extrude(amount=BOX006_DEPTH)


with BuildPart() as fusion:
    # Sketch → Pad (new body)
    with BuildSketch(Plane.YZ):
        Polygon((0, 0), (2, 0), (0, 1), align=None)
    extrude(amount=PAD_DEPTH)

    # Fusion: union Cube004, Cube001, Cube003, Cube002, Cube005, Cube006
    add(cube004.part)
    add(cube001.part)
    add(cube003.part)
    add(cube002.part)
    add(cube005.part)
    add(cube006.part)


with BuildPart() as cut003:
    # Box → Box (new body)
    with BuildSketch(Plane.XY):
        with Locations((30, 9.75)):
            Rectangle(BOX_W, BOX_H)
    extrude(amount=BOX_DEPTH)

    # Cut: cut Fusion
    add(fusion.part, mode=Mode.SUBTRACT)

    # Fusion001: union Cylinder002, Cylinder003, Cube008, Cylinder006, Cube012, Cylinder008, Cube015
    add(cylinder002.part)
    add(cylinder003.part)
    add(cube008.part)
    add(cylinder006.part)
    add(cube012.part)
    add(cylinder008_2.part)
    add(cube015.part)

    # Cut001: cut Fusion002
    add(fusion002.part, mode=Mode.SUBTRACT)

    # Cut003: cut Fusion005
    add(fusion005_1.part, mode=Mode.SUBTRACT)


solid = cut003.part
